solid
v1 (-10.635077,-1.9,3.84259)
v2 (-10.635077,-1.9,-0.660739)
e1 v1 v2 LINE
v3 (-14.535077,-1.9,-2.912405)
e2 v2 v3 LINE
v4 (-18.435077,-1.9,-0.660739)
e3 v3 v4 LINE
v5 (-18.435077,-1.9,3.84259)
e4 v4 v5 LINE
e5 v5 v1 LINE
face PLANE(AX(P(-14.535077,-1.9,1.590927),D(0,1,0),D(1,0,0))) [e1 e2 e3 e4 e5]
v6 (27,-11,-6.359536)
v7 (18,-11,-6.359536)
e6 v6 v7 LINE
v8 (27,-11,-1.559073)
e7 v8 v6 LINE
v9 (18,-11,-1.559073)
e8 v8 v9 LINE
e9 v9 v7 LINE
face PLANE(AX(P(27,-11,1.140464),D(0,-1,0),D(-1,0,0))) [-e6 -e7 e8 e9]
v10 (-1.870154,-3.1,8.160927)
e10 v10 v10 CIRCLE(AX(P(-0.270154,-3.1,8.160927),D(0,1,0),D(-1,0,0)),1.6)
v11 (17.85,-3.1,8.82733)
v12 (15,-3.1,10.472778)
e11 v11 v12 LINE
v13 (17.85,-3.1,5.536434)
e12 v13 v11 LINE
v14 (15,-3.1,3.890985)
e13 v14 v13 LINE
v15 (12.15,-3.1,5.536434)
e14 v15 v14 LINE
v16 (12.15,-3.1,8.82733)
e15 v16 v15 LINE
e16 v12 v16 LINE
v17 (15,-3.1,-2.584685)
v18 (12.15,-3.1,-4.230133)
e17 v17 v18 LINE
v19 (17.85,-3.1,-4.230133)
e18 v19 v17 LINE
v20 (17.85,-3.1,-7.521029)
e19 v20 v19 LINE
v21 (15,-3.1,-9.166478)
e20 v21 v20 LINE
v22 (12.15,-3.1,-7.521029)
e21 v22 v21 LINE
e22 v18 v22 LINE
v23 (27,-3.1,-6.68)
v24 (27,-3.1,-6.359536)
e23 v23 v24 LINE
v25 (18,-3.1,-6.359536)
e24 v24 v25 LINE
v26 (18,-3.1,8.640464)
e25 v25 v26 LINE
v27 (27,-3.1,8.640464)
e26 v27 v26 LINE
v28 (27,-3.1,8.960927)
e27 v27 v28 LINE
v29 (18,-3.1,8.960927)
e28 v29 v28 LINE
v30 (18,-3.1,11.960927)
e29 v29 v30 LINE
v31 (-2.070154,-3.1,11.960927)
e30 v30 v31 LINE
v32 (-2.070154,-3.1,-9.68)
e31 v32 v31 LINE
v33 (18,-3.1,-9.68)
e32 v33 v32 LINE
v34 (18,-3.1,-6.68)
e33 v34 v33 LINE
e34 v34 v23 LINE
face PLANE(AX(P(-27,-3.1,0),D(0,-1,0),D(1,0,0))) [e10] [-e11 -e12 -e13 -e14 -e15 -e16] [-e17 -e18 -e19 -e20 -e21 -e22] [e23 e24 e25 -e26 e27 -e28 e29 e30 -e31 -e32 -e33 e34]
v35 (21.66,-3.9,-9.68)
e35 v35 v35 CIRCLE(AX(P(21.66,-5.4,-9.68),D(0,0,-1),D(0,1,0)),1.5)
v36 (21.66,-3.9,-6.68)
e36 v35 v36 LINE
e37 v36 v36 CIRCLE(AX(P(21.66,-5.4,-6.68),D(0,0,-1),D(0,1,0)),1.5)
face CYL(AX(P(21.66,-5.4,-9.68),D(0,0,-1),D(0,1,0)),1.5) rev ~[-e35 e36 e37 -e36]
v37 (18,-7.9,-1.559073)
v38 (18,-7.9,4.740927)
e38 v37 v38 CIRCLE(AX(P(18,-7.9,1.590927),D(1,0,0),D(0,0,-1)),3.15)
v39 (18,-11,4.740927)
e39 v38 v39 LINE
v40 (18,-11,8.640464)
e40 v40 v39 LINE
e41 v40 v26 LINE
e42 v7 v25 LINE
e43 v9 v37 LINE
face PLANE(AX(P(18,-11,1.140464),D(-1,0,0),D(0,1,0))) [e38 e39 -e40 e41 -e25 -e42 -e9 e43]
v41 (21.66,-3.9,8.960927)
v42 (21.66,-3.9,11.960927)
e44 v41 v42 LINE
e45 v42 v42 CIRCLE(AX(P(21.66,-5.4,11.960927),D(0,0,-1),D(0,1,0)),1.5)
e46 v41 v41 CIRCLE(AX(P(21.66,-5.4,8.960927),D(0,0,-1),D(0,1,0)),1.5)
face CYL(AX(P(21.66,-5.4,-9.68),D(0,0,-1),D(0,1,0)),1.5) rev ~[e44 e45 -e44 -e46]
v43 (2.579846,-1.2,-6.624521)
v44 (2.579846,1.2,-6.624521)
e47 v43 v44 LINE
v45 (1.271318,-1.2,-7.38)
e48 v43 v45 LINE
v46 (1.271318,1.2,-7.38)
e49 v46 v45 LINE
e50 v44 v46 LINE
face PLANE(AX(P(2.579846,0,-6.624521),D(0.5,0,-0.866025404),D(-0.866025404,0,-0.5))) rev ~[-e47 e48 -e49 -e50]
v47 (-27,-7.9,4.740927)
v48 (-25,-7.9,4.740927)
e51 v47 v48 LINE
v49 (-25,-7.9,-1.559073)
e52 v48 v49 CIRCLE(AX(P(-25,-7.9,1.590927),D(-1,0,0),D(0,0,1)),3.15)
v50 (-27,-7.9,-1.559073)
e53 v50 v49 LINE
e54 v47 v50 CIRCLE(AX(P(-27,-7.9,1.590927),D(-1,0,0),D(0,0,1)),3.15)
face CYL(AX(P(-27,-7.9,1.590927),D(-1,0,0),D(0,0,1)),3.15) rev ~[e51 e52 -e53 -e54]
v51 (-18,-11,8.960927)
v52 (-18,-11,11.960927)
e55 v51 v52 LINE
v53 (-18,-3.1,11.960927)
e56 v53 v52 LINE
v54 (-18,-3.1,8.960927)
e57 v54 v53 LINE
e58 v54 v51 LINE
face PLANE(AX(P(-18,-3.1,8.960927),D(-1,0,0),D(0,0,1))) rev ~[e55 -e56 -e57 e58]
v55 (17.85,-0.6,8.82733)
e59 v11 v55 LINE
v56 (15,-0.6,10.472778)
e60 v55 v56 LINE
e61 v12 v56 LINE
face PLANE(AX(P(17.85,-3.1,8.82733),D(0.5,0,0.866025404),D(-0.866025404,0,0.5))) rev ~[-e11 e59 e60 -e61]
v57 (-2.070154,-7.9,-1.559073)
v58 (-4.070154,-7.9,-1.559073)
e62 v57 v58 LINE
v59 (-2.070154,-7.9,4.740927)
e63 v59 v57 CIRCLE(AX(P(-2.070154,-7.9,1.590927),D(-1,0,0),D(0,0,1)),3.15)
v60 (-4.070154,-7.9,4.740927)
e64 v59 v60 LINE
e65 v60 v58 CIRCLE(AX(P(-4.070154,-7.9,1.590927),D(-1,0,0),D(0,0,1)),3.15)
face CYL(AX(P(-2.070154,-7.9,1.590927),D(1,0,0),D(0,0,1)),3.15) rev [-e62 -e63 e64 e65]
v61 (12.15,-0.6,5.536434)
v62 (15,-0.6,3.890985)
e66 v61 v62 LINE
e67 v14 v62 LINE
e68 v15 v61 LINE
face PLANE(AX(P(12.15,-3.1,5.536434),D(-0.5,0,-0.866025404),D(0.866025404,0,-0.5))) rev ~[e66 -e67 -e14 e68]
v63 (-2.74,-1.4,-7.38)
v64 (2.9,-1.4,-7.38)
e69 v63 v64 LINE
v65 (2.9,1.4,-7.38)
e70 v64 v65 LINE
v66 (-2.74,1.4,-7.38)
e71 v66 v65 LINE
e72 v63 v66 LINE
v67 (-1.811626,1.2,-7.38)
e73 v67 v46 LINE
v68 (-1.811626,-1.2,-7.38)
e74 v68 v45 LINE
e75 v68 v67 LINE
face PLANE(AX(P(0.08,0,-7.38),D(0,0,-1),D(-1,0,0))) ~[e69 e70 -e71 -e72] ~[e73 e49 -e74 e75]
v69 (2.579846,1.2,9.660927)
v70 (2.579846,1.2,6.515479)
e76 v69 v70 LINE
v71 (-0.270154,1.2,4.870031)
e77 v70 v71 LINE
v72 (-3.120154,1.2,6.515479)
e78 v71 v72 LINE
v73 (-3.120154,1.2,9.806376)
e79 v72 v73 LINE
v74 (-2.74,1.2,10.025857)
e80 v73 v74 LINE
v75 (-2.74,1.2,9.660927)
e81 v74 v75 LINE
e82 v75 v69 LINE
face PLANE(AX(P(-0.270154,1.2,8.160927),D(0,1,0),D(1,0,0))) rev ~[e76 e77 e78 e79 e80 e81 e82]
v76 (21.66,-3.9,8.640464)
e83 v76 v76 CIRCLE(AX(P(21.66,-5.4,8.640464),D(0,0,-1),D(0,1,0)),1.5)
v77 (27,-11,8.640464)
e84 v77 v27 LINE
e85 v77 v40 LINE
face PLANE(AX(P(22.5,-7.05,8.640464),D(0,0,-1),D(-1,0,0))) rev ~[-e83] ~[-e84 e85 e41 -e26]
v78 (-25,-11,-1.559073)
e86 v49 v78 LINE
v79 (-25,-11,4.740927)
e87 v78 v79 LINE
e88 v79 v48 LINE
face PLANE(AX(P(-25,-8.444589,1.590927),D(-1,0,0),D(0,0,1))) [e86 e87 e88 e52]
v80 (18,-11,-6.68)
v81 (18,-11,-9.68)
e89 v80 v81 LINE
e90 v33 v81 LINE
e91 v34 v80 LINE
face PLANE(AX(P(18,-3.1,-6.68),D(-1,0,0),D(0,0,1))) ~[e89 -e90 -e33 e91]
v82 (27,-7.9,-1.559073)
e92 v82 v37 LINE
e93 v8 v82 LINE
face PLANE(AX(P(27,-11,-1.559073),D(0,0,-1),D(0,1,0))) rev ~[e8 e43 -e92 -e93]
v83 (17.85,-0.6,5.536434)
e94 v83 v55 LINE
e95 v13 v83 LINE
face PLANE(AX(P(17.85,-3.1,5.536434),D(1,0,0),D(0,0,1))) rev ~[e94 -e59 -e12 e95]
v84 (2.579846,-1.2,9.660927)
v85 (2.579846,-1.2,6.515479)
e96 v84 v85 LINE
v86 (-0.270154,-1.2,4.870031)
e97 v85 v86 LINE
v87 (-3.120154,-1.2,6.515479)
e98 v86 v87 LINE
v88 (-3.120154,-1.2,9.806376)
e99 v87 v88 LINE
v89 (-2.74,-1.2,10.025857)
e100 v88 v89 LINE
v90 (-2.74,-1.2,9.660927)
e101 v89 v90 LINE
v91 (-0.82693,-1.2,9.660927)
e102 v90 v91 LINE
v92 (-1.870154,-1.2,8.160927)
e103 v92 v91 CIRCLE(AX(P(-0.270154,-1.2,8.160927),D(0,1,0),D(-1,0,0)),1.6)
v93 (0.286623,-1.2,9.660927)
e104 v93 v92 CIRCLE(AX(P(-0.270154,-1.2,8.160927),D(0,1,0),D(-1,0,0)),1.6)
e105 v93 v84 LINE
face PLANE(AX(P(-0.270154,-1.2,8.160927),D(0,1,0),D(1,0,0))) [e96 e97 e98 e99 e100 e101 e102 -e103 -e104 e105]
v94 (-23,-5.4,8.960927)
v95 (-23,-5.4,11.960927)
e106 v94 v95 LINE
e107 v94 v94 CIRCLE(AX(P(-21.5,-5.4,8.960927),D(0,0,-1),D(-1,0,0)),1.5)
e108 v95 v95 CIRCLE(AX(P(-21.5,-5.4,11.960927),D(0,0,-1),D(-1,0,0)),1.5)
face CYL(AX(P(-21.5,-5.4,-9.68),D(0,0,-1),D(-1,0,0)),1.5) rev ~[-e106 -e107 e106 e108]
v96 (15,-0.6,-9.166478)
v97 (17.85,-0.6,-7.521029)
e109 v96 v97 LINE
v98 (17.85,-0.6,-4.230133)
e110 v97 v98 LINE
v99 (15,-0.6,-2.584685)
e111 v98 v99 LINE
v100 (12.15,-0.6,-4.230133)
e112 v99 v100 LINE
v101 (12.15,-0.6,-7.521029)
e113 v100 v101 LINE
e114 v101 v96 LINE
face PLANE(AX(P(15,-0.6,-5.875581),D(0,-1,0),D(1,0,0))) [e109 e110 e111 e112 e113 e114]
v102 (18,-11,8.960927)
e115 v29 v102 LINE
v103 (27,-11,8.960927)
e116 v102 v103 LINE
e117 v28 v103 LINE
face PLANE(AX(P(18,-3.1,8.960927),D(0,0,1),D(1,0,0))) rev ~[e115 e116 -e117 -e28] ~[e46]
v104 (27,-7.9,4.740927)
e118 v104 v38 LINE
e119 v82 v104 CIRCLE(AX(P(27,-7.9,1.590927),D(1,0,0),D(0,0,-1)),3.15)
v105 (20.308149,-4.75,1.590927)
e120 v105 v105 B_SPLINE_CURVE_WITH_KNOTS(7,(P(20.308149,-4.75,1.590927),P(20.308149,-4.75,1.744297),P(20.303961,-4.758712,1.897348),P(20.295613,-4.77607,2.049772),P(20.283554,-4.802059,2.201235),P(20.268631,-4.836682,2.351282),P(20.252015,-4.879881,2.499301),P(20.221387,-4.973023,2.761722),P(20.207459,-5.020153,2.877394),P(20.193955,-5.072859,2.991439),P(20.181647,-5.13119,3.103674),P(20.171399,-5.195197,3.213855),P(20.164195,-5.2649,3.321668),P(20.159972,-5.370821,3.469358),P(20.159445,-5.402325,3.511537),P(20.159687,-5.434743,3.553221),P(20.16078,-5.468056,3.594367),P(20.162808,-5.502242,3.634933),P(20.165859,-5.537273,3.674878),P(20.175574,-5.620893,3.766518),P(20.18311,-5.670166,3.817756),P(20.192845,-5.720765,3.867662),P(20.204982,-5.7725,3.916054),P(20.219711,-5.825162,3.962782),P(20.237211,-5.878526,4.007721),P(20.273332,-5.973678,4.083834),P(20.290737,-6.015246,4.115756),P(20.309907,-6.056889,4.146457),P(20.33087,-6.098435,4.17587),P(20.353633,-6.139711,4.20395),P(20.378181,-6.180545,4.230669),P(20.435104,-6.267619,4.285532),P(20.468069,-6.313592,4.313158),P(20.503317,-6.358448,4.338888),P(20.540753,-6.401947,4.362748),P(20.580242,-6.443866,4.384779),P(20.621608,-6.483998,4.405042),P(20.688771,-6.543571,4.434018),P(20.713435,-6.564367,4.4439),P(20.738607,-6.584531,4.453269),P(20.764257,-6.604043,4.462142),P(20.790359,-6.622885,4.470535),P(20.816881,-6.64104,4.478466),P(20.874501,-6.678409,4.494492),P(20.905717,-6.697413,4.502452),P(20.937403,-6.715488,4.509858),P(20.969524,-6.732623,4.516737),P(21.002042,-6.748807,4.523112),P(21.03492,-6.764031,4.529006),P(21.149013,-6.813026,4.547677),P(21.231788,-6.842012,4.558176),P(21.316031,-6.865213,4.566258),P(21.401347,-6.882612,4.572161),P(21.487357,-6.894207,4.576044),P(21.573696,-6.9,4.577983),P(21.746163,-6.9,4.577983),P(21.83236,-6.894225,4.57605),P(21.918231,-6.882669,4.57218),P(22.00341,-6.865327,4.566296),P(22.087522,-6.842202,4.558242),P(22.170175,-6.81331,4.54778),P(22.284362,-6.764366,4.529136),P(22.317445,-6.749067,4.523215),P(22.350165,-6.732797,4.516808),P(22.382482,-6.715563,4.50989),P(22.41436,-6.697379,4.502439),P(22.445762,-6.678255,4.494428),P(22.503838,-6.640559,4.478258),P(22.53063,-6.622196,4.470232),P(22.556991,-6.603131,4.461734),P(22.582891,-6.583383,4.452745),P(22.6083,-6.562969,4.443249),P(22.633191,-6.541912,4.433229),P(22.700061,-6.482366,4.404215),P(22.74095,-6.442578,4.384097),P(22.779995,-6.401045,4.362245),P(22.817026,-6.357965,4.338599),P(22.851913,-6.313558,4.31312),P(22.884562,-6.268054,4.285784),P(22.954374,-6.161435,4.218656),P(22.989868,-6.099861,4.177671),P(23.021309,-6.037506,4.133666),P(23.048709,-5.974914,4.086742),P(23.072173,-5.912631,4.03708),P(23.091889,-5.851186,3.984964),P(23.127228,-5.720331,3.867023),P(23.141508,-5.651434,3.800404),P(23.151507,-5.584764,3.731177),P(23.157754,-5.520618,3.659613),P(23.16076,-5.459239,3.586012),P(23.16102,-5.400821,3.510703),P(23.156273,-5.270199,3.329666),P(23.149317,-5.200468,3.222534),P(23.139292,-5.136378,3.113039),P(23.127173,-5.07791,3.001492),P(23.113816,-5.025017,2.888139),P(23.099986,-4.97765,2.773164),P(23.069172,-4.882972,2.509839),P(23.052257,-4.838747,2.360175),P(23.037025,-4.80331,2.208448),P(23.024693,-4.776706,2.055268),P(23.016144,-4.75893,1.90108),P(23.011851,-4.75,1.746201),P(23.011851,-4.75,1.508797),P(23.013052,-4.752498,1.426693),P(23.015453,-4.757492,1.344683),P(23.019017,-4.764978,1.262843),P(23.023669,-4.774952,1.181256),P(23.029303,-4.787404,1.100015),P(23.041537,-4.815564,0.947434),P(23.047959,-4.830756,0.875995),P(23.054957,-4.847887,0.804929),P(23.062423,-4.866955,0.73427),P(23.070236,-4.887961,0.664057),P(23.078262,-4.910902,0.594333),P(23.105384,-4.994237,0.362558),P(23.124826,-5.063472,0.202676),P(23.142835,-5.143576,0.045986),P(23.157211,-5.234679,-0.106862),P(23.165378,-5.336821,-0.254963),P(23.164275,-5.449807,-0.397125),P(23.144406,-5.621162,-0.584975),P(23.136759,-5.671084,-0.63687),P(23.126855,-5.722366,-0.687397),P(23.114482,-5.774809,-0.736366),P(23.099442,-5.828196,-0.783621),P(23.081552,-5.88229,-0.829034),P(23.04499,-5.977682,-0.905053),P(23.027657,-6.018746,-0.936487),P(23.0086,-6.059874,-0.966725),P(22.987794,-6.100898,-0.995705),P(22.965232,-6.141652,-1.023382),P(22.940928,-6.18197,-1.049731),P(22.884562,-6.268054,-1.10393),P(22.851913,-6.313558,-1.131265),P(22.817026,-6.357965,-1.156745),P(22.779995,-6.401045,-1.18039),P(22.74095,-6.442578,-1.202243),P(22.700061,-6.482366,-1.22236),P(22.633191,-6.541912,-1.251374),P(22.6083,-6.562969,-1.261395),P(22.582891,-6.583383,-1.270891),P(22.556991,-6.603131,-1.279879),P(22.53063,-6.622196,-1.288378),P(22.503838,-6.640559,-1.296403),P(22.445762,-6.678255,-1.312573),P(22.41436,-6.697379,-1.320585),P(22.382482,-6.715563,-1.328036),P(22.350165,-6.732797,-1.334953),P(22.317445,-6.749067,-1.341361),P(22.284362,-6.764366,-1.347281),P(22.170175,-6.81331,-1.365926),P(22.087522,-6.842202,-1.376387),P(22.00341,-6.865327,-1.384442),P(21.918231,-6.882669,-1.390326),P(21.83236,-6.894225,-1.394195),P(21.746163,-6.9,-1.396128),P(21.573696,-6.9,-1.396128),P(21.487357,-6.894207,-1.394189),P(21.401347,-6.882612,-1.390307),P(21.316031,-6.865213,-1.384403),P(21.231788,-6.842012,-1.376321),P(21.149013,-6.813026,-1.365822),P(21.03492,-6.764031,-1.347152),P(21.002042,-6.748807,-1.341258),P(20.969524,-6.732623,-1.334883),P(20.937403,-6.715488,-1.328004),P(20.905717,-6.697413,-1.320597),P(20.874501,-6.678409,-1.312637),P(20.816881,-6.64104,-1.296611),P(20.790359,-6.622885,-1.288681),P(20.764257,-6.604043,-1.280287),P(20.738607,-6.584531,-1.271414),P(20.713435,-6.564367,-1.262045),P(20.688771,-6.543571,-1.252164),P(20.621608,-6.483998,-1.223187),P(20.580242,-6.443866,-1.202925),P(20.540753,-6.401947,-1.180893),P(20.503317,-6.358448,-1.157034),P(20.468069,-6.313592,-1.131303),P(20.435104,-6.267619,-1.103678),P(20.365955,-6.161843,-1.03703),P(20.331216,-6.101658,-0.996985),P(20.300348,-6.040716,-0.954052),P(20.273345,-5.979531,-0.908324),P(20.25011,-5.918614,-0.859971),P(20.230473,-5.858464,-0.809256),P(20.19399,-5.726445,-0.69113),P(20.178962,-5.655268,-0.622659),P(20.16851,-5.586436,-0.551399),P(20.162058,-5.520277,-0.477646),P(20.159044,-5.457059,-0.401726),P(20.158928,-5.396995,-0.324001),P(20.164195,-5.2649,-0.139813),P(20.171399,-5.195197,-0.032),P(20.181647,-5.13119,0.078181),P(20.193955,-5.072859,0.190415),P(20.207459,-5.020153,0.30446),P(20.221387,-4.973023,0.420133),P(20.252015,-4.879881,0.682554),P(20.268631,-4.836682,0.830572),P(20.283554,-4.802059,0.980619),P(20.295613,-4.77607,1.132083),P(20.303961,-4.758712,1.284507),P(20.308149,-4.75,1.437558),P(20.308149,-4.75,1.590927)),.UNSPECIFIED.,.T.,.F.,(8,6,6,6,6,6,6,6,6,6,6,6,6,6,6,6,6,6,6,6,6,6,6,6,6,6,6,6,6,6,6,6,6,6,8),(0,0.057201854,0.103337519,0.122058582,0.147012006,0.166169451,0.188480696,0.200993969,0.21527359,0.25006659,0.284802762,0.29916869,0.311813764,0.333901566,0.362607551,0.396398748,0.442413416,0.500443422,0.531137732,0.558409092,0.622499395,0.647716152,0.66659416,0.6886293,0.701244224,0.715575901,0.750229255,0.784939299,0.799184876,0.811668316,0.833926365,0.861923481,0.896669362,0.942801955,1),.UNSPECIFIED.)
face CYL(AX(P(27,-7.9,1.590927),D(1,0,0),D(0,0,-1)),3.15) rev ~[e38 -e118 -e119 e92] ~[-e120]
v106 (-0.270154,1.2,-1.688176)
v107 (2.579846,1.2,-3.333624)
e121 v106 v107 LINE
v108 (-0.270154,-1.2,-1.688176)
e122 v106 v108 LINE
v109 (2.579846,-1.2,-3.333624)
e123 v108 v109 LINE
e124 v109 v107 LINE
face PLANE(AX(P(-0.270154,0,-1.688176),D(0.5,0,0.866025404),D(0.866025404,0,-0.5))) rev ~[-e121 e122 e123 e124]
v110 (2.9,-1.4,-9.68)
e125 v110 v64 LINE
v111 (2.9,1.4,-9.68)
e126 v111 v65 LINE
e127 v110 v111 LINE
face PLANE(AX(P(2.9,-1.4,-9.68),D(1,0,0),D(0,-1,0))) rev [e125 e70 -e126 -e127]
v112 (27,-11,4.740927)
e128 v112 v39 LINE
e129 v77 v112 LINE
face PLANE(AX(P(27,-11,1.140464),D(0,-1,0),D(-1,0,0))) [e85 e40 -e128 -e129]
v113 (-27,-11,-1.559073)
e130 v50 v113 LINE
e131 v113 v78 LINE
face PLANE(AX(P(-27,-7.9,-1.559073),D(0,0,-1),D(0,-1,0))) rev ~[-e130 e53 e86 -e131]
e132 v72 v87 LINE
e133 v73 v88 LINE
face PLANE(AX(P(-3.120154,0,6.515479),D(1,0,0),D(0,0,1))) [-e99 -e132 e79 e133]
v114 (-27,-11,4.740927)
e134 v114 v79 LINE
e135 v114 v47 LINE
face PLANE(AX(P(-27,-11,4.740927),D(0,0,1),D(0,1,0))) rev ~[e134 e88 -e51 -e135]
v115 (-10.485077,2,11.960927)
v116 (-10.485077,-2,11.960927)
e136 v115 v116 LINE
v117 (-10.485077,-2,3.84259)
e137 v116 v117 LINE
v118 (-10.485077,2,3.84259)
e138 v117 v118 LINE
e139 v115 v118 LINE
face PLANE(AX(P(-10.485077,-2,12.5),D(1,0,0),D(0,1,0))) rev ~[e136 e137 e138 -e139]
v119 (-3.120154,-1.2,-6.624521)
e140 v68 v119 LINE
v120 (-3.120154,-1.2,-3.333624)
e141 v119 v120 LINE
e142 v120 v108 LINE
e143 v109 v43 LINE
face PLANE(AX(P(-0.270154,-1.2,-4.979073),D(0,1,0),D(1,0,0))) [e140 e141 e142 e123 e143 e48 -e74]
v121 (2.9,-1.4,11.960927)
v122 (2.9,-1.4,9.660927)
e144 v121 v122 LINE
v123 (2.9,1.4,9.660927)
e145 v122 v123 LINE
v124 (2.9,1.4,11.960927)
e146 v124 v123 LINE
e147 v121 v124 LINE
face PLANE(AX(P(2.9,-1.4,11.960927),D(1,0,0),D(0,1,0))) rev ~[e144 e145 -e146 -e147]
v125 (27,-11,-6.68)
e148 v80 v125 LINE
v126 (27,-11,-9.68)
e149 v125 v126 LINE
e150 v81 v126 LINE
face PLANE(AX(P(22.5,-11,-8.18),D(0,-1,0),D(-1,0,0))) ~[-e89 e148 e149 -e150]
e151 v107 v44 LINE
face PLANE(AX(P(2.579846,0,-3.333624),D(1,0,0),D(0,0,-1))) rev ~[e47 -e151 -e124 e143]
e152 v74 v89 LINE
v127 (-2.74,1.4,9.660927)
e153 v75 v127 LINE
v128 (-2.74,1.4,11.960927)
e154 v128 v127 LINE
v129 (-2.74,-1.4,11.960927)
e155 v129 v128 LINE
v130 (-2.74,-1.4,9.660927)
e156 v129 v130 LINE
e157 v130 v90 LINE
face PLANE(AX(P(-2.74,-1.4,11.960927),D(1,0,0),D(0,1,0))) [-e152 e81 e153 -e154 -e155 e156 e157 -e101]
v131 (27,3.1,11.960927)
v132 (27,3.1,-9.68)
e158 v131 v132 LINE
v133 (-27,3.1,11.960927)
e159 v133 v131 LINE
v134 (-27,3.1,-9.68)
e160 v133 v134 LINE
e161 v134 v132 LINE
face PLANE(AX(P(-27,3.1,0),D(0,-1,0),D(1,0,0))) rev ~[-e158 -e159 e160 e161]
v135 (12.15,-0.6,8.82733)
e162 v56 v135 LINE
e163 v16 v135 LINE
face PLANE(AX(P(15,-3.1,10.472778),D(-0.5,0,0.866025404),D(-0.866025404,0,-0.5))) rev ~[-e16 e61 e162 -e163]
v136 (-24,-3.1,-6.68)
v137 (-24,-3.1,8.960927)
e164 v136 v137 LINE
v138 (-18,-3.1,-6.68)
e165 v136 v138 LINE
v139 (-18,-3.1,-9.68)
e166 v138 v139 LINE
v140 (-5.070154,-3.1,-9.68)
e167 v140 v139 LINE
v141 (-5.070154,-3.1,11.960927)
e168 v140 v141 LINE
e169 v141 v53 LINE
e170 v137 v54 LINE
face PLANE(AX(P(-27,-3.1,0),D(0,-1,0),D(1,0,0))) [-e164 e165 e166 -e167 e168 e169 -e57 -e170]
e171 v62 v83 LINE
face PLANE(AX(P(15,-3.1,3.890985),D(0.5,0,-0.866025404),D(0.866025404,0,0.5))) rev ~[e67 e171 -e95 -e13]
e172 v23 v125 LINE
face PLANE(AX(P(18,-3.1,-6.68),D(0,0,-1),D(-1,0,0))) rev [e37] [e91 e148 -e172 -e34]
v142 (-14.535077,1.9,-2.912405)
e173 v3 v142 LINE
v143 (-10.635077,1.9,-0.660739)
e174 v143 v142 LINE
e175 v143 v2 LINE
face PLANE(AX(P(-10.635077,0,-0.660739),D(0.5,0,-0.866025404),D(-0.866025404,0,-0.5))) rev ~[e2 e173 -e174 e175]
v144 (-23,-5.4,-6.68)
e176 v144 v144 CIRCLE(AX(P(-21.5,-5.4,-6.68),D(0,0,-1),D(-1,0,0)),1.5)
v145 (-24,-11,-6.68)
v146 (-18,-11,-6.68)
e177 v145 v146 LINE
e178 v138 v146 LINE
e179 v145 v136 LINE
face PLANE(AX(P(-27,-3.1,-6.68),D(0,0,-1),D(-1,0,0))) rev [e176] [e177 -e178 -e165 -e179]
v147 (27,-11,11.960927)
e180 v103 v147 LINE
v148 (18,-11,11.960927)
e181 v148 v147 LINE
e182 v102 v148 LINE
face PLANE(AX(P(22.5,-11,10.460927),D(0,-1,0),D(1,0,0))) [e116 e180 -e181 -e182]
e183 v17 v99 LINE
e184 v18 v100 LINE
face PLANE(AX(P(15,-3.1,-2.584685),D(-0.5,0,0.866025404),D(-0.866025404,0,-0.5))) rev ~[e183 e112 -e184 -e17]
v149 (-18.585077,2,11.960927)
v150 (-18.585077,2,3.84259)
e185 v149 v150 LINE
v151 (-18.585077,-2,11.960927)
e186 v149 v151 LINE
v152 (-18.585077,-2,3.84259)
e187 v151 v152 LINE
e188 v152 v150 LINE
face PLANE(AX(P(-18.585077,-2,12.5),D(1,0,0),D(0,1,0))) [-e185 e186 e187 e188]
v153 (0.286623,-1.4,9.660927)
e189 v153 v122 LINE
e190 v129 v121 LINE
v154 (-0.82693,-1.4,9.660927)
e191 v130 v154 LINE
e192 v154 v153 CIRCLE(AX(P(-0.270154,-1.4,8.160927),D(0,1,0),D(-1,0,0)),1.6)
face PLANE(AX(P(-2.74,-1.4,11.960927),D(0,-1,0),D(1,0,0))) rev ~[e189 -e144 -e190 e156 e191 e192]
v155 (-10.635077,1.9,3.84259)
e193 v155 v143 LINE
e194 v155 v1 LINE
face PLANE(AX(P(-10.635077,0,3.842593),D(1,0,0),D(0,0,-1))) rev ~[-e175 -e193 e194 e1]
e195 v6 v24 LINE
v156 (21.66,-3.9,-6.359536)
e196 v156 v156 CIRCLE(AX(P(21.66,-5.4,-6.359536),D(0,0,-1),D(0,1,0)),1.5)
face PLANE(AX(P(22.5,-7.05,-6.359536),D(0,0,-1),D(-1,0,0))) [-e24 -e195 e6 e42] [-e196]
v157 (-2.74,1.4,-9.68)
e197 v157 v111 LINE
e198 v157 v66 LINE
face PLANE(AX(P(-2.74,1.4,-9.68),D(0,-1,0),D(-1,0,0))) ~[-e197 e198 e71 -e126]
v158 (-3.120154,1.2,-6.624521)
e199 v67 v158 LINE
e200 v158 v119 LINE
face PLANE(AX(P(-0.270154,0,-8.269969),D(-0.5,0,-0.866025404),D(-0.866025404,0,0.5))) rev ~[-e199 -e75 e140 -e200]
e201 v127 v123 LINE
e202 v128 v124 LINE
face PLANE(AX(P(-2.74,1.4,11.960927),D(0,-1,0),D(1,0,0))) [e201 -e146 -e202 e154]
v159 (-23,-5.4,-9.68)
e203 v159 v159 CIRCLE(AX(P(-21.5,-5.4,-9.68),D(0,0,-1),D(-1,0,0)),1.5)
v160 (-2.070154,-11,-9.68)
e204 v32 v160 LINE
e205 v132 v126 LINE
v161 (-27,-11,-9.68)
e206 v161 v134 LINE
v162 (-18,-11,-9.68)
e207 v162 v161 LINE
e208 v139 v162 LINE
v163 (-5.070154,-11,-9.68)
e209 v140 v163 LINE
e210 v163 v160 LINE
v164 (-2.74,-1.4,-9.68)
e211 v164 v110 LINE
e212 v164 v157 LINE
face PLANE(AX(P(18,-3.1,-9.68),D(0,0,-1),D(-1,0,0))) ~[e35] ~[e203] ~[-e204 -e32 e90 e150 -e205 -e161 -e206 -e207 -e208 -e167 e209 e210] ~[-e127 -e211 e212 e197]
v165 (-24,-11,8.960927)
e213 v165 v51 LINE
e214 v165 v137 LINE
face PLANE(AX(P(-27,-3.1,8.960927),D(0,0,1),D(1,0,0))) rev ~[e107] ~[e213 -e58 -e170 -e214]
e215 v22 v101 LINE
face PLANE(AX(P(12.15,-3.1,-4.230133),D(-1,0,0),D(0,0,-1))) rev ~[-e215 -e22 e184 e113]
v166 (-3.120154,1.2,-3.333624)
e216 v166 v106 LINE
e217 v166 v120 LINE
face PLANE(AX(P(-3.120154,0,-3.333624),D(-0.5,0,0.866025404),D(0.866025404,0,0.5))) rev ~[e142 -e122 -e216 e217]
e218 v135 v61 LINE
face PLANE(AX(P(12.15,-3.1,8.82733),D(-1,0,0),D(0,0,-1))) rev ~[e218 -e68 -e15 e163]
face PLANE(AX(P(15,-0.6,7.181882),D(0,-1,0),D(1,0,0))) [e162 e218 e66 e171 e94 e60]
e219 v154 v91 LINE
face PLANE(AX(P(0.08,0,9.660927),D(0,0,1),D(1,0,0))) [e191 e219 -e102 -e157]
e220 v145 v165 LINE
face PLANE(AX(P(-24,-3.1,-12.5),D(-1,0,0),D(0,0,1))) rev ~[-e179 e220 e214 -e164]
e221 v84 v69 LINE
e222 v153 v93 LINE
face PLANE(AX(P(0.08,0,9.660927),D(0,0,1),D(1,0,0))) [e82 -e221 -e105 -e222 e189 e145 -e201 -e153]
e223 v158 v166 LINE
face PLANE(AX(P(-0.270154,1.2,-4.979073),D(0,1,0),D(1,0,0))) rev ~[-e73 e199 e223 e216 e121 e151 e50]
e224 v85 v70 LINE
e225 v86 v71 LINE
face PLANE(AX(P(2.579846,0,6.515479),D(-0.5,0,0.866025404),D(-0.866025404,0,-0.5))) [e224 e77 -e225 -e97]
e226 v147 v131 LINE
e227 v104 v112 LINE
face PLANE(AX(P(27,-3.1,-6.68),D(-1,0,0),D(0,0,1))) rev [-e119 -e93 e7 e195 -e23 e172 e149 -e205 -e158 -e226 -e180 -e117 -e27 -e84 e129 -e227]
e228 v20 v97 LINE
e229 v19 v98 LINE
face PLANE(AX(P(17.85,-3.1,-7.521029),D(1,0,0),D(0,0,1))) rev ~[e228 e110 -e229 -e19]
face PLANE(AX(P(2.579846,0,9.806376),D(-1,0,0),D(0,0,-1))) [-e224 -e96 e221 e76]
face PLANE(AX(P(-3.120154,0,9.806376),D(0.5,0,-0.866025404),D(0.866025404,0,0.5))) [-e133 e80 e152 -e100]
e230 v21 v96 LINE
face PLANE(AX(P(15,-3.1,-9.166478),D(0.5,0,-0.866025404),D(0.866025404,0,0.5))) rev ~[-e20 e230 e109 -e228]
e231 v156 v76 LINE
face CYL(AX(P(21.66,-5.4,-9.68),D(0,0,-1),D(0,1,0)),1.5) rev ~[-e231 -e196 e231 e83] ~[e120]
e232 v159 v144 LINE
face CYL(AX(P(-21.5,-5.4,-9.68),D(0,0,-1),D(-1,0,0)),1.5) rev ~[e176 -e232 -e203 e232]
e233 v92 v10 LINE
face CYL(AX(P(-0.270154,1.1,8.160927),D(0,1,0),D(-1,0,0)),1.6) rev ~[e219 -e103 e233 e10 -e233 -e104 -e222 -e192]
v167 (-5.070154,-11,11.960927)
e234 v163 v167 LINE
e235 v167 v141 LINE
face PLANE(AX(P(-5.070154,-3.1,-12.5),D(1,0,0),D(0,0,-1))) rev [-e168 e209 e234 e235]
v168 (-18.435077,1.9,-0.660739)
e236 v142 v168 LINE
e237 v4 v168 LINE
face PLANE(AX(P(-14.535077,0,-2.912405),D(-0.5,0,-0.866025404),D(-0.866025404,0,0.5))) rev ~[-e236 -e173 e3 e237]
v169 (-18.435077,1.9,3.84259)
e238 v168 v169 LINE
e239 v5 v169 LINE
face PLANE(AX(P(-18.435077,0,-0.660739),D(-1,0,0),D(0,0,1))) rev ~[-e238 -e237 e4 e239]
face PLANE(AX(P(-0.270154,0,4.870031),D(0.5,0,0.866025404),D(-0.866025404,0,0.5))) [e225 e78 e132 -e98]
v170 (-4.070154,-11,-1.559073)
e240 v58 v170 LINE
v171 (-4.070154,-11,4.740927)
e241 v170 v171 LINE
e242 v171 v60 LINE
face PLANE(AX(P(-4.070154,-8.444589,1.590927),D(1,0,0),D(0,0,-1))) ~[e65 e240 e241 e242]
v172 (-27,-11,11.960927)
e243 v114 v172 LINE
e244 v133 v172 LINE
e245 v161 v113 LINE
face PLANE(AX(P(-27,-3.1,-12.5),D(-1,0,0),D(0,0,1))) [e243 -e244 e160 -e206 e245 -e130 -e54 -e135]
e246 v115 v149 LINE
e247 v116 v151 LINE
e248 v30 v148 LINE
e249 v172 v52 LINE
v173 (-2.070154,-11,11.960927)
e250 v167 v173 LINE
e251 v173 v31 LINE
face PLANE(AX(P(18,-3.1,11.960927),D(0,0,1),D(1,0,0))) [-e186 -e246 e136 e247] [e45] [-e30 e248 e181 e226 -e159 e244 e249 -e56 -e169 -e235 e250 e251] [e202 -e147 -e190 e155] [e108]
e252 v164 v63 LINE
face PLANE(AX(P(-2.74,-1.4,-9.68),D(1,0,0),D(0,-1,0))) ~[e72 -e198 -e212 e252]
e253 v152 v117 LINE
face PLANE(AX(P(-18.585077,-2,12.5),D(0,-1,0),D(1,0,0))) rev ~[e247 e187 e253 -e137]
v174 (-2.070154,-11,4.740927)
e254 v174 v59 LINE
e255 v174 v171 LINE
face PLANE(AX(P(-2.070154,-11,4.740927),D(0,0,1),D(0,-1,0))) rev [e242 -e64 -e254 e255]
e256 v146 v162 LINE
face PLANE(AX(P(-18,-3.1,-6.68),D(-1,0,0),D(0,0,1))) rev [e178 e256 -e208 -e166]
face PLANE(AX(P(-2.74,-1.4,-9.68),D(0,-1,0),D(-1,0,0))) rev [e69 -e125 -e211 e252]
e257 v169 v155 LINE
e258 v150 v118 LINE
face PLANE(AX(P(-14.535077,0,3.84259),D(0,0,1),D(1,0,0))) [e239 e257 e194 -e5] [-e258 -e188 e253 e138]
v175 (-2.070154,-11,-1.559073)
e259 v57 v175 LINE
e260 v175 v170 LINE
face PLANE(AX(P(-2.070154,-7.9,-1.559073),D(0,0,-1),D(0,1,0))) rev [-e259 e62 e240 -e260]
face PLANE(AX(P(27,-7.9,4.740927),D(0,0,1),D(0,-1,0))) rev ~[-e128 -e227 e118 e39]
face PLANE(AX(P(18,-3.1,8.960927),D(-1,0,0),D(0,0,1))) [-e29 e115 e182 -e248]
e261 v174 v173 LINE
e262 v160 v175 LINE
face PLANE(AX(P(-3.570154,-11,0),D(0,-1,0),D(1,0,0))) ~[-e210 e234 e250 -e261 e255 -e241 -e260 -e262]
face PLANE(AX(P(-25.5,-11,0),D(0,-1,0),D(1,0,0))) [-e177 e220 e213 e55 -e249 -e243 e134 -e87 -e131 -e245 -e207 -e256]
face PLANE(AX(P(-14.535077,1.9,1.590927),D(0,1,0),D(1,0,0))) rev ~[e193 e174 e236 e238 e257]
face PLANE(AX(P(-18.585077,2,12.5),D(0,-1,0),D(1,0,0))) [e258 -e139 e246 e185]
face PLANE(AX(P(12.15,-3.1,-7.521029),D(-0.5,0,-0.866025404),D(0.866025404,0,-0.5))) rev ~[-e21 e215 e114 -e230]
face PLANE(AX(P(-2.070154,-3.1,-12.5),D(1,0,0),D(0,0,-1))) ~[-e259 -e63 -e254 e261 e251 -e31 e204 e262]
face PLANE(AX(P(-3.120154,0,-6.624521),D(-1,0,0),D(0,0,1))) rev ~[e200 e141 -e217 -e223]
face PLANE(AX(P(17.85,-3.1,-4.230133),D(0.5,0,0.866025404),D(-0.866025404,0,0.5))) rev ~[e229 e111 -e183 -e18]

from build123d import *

# Parameters (mm, degrees)
SKETCH2_W           = 54
SKETCH2_H           = 6.2
BOSS_EXTRUDE2_DEPTH = 12.5
SKETCH3_R           = 2.8
CUT_EXTRUDE1_DEPTH  = 6.2
CUT_EXTRUDE2_DEPTH  = 1.9
SKETCH6_W           = 8.1
SKETCH6_H           = 4
CUT_EXTRUDE3_DEPTH  = 8.65741
SKETCH7_W           = 3
SKETCH7_H           = 25
BOSS_EXTRUDE3_DEPTH = 7.9
CUT_EXTRUDE4_DEPTH  = 2
SKETCH9_R           = 0.7
CUT_EXTRUDE5_DEPTH  = 2
SKETCH13_W          = 54
SKETCH13_H          = 2.82
CUT_EXTRUDE6_DEPTH  = 33.925066439
SKETCH18_W          = 3
SKETCH18_H          = 2.82
CUT_EXTRUDE9_DEPTH  = 10
SKETCH19_W          = 0.539072716
SKETCH19_H          = 14.1
CUT_EXTRUDE11_DEPTH = 57.508848865
CUT_EXTRUDE13_DEPTH = 2.5
CUT_EXTRUDE15_START = -2
SKETCH23_R          = 1.6
CUT_EXTRUDE15_DEPTH = 7
CUT_EXTRUDE16_DEPTH = 1.2
SKETCH26_W          = 5.64
SKETCH26_H          = 2.8
CUT_EXTRUDE17_DEPTH = 2.3
SKETCH29_W          = 9
SKETCH29_H          = 3
BOSS_EXTRUDE5_DEPTH = 7.9
SKETCH34_W          = 9
SKETCH34_H          = 7.9
BOSS_EXTRUDE6_DEPTH = 7.5
CUT_EXTRUDE19_DEPTH = 9
CUT_EXTRUDE20_DEPTH = 2.5
SKETCH31_R          = 1.5
CUT_EXTRUDE18_DEPTH = 37.30881069


with BuildPart() as part:
    # Sketch2 → Boss-Extrude2 (new, symmetric)
    with BuildSketch(Plane(origin=(10.528308017, 2.71655886, 0), x_dir=(1, 0, 0), z_dir=(0, 0, 1))):
        with Locations((-10.528308017, -2.71655886)):
            Rectangle(SKETCH2_W, SKETCH2_H)
    extrude(amount=BOSS_EXTRUDE2_DEPTH, both=True)

    # Sketch3 → Cut-Extrude1 (cut)
    with BuildSketch(Plane.XZ.offset(3.1)):
        with Locations((-12.165967216, -142.374755929)):
            Circle(SKETCH3_R)
    extrude(amount=-CUT_EXTRUDE1_DEPTH, mode=Mode.SUBTRACT)

    # Sketch4 → Cut-Extrude2 (cut, symmetric)
    with BuildSketch(Plane(origin=(0, 0, 0), x_dir=(1, 0, 0), z_dir=(0, 1, 0))):
        Polygon((-10.635076842, 0.660738766), (-14.535076842, 2.912404816), (-18.435076842, 0.660738766), (-18.435076842, -3.842593333), (-14.535076842, -6.094259383), (-10.635076842, -3.842593333), align=None)
    extrude(amount=CUT_EXTRUDE2_DEPTH, both=True, mode=Mode.SUBTRACT)

    # Sketch6 → Cut-Extrude3 (cut)
    with BuildSketch(Plane.XY.offset(12.5)):
        with Locations((-14.535076842, 0)):
            Rectangle(SKETCH6_W, SKETCH6_H)
    extrude(amount=-CUT_EXTRUDE3_DEPTH, mode=Mode.SUBTRACT)

    # Sketch7 → Boss-Extrude3 (add)
    with BuildSketch(Plane.XZ.offset(3.1)):
        with Locations((-25.5, 0)):
            Rectangle(SKETCH7_W, SKETCH7_H)
    boss_extrude3 = extrude(amount=BOSS_EXTRUDE3_DEPTH)

    # Sketch8 → Cut-Extrude4 (cut)
    with BuildSketch(Plane.ZY.offset(27)):
        with BuildLine():
            Line((-1.559072716, -7.9), (-1.559072716, -11))
            Line((-1.559072716, -11), (4.740927284, -11))
            Line((4.740927284, -11), (4.740927284, -7.9))
            ThreePointArc((4.740927284, -7.9), (1.590927284, -4.75), (-1.559072716, -7.9))
        make_face()
    cut_extrude4 = extrude(amount=-CUT_EXTRUDE4_DEPTH, mode=Mode.SUBTRACT)

    # Sketch9 → Cut-Extrude5 (cut)
    with BuildSketch(Plane(origin=(-24, 0, 0), x_dir=(0, 0, -1), z_dir=(1, 0, 0))):
        with Locations((142.374755929, -8.1)):
            Circle(SKETCH9_R)
    cut_extrude5 = extrude(amount=-CUT_EXTRUDE5_DEPTH, mode=Mode.SUBTRACT)

    # Sketch13 → Cut-Extrude6 (cut, through all)
    with BuildSketch(Plane(origin=(0, 3.1, 0), x_dir=(1, 0, 0), z_dir=(0, 1, 0))):
        with Locations((0, 11.09)):
            Rectangle(SKETCH13_W, SKETCH13_H)
    extrude(amount=-CUT_EXTRUDE6_DEPTH, mode=Mode.SUBTRACT)

    # Mirror1: Boss-Extrude3, Cut-Extrude4, Cut-Extrude5 across plane
    add(boss_extrude3.mirror(Plane.ZY.offset(14.535076842)))
    add(cut_extrude4.mirror(Plane.ZY.offset(14.535076842)), mode=Mode.SUBTRACT)
    add(cut_extrude5.mirror(Plane.ZY.offset(14.535076842)), mode=Mode.SUBTRACT)

    # Sketch18 → Cut-Extrude9 (cut)
    with BuildSketch(Plane(origin=(0, -3.1, 0), x_dir=(1, 0, 0), z_dir=(0, 1, 0))):
        with Locations((-3.570153685, 11.09)):
            Rectangle(SKETCH18_W, SKETCH18_H)
    extrude(amount=-CUT_EXTRUDE9_DEPTH, mode=Mode.SUBTRACT)

    # Sketch19 → Cut-Extrude11 (cut, through all)
    with BuildSketch(Plane.ZY.offset(27)):
        with Locations((12.230463642, -3.95)):
            Rectangle(SKETCH19_W, SKETCH19_H)
    extrude(amount=-CUT_EXTRUDE11_DEPTH, mode=Mode.SUBTRACT)

    # Sketch22 → Cut-Extrude13 (cut)
    with BuildSketch(Plane.XZ.offset(3.1)):
        Polygon((15, 10.472778345), (12.15, 8.827330078), (12.15, 5.536433544), (15, 3.890985277), (17.85, 5.536433544), (17.85, 8.827330078), align=None)
        Polygon((15, -2.584684642), (12.15, -4.230132909), (12.15, -7.521029443), (15, -9.16647771), (17.85, -7.521029443), (17.85, -4.230132909), align=None)
    extrude(amount=-CUT_EXTRUDE13_DEPTH, mode=Mode.SUBTRACT)

    # Sketch23 → Cut-Extrude15 (cut)
    with BuildSketch(Plane(origin=(0, 3.1, 0), x_dir=(1, 0, 0), z_dir=(0, 1, 0)).offset(CUT_EXTRUDE15_START)):
        with Locations((-0.270153685, 292.910439142)):
            Circle(SKETCH23_R)
        with Locations(Location((-0.270153685, -8.160927284, 0), (0, 0, 180))):
            Circle(SKETCH23_R)
    extrude(amount=-CUT_EXTRUDE15_DEPTH, mode=Mode.SUBTRACT)

    # Sketch24 → Cut-Extrude16 (cut, symmetric)
    with BuildSketch(Plane(origin=(0, 0, 0), x_dir=(1, 0, 0), z_dir=(0, 1, 0))):
        Polygon((-0.270153685, -11.451823818), (2.579846315, -9.806375551), (2.579846315, -6.515479016), (-0.270153685, -4.870030749), (-3.120153685, -6.515479016), (-3.120153685, -9.806375551), align=None)
        Polygon((-0.270153685, 1.688176182), (2.579846315, 3.333624449), (2.579846315, 6.624520984), (-0.270153685, 8.269969251), (-3.120153685, 6.624520984), (-3.120153685, 3.333624449), align=None)
    extrude(amount=CUT_EXTRUDE16_DEPTH, both=True, mode=Mode.SUBTRACT)

    # Sketch26 → Cut-Extrude17 (cut)
    with BuildSketch(Plane.XY.offset(11.960927284)):
        with Locations((0.08, 0)):
            Rectangle(SKETCH26_W, SKETCH26_H)
    cut_extrude17 = extrude(amount=-CUT_EXTRUDE17_DEPTH, mode=Mode.SUBTRACT)

    # Mirror4: Cut-Extrude17 across plane
    add(cut_extrude17.mirror(Plane(origin=(0, 0, 1.140463642), x_dir=(1, 0, 0), z_dir=(0, 0, -1))), mode=Mode.SUBTRACT)

    # Sketch29 → Boss-Extrude5 (add)
    with BuildSketch(Plane.XZ.offset(3.1)):
        with Locations((22.5, 10.460927284)):
            Rectangle(SKETCH29_W, SKETCH29_H)
        with Locations((-22.5, 10.460927284)):
            Rectangle(SKETCH29_W, SKETCH29_H)
    boss_extrude5 = extrude(amount=BOSS_EXTRUDE5_DEPTH)

    # Mirror5: Boss-Extrude5 across plane
    add(boss_extrude5.mirror(Plane(origin=(0, 0, 1.140463642), x_dir=(1, 0, 0), z_dir=(0, 0, -1))))

    # Sketch34 → Boss-Extrude6 (add, symmetric)
    with BuildSketch(Plane(origin=(0, 0, 1.140463642), x_dir=(-1, 0, 0), z_dir=(0, 0, -1))):
        with Locations((-22.5, -7.05)):
            Rectangle(SKETCH34_W, SKETCH34_H)
    extrude(amount=BOSS_EXTRUDE6_DEPTH, both=True)

    # Sketch35 → Cut-Extrude19 (cut)
    with BuildSketch(Plane(origin=(27, 0, 0), x_dir=(0, 0, -1), z_dir=(1, 0, 0))):
        with BuildLine():
            Line((-4.740927284, -11), (1.559072716, -11))
            Line((1.559072716, -11), (1.559072716, -7.9))
            ThreePointArc((1.559072716, -7.9), (-1.590927284, -4.75), (-4.740927284, -7.9))
            Line((-4.740927284, -7.9), (-4.740927284, -11))
        make_face()
    extrude(amount=-CUT_EXTRUDE19_DEPTH, mode=Mode.SUBTRACT)

    # Sketch36 → Cut-Extrude20 (cut)
    with BuildSketch(Plane.XZ.offset(11)):
        with BuildLine():
            Line((-18, -150.496582169), (-18, -147.496582169))
            Line((-18, -147.496582169), (-20.754732899, -147.496582169))
            ThreePointArc((-20.754732899, -147.496582169), (-19.531717613, -149.138314245), (-18, -150.496582169))
        make_face()
        with BuildLine():
            Line((-20.754732899, -137.252929689), (-18, -137.252929689))
            Line((-18, -137.252929689), (-18, -134.252929689))
            ThreePointArc((-18, -134.252929689), (-19.531717613, -135.611197614), (-20.754732899, -137.252929689))
        make_face()
    extrude(amount=-CUT_EXTRUDE20_DEPTH, mode=Mode.SUBTRACT)

    # Sketch31 → Cut-Extrude18 (cut, through all)
    with BuildSketch(Plane(origin=(0, 0, -9.68), x_dir=(-1, 0, 0), z_dir=(0, 0, -1))):
        with Locations(Location((-21.66, -5.4, 0), (0, 0, 90))):
            Circle(SKETCH31_R)
        with Locations((21.5, -5.4)):
            Circle(SKETCH31_R)
    extrude(amount=-CUT_EXTRUDE18_DEPTH, mode=Mode.SUBTRACT)


solid = part.part
